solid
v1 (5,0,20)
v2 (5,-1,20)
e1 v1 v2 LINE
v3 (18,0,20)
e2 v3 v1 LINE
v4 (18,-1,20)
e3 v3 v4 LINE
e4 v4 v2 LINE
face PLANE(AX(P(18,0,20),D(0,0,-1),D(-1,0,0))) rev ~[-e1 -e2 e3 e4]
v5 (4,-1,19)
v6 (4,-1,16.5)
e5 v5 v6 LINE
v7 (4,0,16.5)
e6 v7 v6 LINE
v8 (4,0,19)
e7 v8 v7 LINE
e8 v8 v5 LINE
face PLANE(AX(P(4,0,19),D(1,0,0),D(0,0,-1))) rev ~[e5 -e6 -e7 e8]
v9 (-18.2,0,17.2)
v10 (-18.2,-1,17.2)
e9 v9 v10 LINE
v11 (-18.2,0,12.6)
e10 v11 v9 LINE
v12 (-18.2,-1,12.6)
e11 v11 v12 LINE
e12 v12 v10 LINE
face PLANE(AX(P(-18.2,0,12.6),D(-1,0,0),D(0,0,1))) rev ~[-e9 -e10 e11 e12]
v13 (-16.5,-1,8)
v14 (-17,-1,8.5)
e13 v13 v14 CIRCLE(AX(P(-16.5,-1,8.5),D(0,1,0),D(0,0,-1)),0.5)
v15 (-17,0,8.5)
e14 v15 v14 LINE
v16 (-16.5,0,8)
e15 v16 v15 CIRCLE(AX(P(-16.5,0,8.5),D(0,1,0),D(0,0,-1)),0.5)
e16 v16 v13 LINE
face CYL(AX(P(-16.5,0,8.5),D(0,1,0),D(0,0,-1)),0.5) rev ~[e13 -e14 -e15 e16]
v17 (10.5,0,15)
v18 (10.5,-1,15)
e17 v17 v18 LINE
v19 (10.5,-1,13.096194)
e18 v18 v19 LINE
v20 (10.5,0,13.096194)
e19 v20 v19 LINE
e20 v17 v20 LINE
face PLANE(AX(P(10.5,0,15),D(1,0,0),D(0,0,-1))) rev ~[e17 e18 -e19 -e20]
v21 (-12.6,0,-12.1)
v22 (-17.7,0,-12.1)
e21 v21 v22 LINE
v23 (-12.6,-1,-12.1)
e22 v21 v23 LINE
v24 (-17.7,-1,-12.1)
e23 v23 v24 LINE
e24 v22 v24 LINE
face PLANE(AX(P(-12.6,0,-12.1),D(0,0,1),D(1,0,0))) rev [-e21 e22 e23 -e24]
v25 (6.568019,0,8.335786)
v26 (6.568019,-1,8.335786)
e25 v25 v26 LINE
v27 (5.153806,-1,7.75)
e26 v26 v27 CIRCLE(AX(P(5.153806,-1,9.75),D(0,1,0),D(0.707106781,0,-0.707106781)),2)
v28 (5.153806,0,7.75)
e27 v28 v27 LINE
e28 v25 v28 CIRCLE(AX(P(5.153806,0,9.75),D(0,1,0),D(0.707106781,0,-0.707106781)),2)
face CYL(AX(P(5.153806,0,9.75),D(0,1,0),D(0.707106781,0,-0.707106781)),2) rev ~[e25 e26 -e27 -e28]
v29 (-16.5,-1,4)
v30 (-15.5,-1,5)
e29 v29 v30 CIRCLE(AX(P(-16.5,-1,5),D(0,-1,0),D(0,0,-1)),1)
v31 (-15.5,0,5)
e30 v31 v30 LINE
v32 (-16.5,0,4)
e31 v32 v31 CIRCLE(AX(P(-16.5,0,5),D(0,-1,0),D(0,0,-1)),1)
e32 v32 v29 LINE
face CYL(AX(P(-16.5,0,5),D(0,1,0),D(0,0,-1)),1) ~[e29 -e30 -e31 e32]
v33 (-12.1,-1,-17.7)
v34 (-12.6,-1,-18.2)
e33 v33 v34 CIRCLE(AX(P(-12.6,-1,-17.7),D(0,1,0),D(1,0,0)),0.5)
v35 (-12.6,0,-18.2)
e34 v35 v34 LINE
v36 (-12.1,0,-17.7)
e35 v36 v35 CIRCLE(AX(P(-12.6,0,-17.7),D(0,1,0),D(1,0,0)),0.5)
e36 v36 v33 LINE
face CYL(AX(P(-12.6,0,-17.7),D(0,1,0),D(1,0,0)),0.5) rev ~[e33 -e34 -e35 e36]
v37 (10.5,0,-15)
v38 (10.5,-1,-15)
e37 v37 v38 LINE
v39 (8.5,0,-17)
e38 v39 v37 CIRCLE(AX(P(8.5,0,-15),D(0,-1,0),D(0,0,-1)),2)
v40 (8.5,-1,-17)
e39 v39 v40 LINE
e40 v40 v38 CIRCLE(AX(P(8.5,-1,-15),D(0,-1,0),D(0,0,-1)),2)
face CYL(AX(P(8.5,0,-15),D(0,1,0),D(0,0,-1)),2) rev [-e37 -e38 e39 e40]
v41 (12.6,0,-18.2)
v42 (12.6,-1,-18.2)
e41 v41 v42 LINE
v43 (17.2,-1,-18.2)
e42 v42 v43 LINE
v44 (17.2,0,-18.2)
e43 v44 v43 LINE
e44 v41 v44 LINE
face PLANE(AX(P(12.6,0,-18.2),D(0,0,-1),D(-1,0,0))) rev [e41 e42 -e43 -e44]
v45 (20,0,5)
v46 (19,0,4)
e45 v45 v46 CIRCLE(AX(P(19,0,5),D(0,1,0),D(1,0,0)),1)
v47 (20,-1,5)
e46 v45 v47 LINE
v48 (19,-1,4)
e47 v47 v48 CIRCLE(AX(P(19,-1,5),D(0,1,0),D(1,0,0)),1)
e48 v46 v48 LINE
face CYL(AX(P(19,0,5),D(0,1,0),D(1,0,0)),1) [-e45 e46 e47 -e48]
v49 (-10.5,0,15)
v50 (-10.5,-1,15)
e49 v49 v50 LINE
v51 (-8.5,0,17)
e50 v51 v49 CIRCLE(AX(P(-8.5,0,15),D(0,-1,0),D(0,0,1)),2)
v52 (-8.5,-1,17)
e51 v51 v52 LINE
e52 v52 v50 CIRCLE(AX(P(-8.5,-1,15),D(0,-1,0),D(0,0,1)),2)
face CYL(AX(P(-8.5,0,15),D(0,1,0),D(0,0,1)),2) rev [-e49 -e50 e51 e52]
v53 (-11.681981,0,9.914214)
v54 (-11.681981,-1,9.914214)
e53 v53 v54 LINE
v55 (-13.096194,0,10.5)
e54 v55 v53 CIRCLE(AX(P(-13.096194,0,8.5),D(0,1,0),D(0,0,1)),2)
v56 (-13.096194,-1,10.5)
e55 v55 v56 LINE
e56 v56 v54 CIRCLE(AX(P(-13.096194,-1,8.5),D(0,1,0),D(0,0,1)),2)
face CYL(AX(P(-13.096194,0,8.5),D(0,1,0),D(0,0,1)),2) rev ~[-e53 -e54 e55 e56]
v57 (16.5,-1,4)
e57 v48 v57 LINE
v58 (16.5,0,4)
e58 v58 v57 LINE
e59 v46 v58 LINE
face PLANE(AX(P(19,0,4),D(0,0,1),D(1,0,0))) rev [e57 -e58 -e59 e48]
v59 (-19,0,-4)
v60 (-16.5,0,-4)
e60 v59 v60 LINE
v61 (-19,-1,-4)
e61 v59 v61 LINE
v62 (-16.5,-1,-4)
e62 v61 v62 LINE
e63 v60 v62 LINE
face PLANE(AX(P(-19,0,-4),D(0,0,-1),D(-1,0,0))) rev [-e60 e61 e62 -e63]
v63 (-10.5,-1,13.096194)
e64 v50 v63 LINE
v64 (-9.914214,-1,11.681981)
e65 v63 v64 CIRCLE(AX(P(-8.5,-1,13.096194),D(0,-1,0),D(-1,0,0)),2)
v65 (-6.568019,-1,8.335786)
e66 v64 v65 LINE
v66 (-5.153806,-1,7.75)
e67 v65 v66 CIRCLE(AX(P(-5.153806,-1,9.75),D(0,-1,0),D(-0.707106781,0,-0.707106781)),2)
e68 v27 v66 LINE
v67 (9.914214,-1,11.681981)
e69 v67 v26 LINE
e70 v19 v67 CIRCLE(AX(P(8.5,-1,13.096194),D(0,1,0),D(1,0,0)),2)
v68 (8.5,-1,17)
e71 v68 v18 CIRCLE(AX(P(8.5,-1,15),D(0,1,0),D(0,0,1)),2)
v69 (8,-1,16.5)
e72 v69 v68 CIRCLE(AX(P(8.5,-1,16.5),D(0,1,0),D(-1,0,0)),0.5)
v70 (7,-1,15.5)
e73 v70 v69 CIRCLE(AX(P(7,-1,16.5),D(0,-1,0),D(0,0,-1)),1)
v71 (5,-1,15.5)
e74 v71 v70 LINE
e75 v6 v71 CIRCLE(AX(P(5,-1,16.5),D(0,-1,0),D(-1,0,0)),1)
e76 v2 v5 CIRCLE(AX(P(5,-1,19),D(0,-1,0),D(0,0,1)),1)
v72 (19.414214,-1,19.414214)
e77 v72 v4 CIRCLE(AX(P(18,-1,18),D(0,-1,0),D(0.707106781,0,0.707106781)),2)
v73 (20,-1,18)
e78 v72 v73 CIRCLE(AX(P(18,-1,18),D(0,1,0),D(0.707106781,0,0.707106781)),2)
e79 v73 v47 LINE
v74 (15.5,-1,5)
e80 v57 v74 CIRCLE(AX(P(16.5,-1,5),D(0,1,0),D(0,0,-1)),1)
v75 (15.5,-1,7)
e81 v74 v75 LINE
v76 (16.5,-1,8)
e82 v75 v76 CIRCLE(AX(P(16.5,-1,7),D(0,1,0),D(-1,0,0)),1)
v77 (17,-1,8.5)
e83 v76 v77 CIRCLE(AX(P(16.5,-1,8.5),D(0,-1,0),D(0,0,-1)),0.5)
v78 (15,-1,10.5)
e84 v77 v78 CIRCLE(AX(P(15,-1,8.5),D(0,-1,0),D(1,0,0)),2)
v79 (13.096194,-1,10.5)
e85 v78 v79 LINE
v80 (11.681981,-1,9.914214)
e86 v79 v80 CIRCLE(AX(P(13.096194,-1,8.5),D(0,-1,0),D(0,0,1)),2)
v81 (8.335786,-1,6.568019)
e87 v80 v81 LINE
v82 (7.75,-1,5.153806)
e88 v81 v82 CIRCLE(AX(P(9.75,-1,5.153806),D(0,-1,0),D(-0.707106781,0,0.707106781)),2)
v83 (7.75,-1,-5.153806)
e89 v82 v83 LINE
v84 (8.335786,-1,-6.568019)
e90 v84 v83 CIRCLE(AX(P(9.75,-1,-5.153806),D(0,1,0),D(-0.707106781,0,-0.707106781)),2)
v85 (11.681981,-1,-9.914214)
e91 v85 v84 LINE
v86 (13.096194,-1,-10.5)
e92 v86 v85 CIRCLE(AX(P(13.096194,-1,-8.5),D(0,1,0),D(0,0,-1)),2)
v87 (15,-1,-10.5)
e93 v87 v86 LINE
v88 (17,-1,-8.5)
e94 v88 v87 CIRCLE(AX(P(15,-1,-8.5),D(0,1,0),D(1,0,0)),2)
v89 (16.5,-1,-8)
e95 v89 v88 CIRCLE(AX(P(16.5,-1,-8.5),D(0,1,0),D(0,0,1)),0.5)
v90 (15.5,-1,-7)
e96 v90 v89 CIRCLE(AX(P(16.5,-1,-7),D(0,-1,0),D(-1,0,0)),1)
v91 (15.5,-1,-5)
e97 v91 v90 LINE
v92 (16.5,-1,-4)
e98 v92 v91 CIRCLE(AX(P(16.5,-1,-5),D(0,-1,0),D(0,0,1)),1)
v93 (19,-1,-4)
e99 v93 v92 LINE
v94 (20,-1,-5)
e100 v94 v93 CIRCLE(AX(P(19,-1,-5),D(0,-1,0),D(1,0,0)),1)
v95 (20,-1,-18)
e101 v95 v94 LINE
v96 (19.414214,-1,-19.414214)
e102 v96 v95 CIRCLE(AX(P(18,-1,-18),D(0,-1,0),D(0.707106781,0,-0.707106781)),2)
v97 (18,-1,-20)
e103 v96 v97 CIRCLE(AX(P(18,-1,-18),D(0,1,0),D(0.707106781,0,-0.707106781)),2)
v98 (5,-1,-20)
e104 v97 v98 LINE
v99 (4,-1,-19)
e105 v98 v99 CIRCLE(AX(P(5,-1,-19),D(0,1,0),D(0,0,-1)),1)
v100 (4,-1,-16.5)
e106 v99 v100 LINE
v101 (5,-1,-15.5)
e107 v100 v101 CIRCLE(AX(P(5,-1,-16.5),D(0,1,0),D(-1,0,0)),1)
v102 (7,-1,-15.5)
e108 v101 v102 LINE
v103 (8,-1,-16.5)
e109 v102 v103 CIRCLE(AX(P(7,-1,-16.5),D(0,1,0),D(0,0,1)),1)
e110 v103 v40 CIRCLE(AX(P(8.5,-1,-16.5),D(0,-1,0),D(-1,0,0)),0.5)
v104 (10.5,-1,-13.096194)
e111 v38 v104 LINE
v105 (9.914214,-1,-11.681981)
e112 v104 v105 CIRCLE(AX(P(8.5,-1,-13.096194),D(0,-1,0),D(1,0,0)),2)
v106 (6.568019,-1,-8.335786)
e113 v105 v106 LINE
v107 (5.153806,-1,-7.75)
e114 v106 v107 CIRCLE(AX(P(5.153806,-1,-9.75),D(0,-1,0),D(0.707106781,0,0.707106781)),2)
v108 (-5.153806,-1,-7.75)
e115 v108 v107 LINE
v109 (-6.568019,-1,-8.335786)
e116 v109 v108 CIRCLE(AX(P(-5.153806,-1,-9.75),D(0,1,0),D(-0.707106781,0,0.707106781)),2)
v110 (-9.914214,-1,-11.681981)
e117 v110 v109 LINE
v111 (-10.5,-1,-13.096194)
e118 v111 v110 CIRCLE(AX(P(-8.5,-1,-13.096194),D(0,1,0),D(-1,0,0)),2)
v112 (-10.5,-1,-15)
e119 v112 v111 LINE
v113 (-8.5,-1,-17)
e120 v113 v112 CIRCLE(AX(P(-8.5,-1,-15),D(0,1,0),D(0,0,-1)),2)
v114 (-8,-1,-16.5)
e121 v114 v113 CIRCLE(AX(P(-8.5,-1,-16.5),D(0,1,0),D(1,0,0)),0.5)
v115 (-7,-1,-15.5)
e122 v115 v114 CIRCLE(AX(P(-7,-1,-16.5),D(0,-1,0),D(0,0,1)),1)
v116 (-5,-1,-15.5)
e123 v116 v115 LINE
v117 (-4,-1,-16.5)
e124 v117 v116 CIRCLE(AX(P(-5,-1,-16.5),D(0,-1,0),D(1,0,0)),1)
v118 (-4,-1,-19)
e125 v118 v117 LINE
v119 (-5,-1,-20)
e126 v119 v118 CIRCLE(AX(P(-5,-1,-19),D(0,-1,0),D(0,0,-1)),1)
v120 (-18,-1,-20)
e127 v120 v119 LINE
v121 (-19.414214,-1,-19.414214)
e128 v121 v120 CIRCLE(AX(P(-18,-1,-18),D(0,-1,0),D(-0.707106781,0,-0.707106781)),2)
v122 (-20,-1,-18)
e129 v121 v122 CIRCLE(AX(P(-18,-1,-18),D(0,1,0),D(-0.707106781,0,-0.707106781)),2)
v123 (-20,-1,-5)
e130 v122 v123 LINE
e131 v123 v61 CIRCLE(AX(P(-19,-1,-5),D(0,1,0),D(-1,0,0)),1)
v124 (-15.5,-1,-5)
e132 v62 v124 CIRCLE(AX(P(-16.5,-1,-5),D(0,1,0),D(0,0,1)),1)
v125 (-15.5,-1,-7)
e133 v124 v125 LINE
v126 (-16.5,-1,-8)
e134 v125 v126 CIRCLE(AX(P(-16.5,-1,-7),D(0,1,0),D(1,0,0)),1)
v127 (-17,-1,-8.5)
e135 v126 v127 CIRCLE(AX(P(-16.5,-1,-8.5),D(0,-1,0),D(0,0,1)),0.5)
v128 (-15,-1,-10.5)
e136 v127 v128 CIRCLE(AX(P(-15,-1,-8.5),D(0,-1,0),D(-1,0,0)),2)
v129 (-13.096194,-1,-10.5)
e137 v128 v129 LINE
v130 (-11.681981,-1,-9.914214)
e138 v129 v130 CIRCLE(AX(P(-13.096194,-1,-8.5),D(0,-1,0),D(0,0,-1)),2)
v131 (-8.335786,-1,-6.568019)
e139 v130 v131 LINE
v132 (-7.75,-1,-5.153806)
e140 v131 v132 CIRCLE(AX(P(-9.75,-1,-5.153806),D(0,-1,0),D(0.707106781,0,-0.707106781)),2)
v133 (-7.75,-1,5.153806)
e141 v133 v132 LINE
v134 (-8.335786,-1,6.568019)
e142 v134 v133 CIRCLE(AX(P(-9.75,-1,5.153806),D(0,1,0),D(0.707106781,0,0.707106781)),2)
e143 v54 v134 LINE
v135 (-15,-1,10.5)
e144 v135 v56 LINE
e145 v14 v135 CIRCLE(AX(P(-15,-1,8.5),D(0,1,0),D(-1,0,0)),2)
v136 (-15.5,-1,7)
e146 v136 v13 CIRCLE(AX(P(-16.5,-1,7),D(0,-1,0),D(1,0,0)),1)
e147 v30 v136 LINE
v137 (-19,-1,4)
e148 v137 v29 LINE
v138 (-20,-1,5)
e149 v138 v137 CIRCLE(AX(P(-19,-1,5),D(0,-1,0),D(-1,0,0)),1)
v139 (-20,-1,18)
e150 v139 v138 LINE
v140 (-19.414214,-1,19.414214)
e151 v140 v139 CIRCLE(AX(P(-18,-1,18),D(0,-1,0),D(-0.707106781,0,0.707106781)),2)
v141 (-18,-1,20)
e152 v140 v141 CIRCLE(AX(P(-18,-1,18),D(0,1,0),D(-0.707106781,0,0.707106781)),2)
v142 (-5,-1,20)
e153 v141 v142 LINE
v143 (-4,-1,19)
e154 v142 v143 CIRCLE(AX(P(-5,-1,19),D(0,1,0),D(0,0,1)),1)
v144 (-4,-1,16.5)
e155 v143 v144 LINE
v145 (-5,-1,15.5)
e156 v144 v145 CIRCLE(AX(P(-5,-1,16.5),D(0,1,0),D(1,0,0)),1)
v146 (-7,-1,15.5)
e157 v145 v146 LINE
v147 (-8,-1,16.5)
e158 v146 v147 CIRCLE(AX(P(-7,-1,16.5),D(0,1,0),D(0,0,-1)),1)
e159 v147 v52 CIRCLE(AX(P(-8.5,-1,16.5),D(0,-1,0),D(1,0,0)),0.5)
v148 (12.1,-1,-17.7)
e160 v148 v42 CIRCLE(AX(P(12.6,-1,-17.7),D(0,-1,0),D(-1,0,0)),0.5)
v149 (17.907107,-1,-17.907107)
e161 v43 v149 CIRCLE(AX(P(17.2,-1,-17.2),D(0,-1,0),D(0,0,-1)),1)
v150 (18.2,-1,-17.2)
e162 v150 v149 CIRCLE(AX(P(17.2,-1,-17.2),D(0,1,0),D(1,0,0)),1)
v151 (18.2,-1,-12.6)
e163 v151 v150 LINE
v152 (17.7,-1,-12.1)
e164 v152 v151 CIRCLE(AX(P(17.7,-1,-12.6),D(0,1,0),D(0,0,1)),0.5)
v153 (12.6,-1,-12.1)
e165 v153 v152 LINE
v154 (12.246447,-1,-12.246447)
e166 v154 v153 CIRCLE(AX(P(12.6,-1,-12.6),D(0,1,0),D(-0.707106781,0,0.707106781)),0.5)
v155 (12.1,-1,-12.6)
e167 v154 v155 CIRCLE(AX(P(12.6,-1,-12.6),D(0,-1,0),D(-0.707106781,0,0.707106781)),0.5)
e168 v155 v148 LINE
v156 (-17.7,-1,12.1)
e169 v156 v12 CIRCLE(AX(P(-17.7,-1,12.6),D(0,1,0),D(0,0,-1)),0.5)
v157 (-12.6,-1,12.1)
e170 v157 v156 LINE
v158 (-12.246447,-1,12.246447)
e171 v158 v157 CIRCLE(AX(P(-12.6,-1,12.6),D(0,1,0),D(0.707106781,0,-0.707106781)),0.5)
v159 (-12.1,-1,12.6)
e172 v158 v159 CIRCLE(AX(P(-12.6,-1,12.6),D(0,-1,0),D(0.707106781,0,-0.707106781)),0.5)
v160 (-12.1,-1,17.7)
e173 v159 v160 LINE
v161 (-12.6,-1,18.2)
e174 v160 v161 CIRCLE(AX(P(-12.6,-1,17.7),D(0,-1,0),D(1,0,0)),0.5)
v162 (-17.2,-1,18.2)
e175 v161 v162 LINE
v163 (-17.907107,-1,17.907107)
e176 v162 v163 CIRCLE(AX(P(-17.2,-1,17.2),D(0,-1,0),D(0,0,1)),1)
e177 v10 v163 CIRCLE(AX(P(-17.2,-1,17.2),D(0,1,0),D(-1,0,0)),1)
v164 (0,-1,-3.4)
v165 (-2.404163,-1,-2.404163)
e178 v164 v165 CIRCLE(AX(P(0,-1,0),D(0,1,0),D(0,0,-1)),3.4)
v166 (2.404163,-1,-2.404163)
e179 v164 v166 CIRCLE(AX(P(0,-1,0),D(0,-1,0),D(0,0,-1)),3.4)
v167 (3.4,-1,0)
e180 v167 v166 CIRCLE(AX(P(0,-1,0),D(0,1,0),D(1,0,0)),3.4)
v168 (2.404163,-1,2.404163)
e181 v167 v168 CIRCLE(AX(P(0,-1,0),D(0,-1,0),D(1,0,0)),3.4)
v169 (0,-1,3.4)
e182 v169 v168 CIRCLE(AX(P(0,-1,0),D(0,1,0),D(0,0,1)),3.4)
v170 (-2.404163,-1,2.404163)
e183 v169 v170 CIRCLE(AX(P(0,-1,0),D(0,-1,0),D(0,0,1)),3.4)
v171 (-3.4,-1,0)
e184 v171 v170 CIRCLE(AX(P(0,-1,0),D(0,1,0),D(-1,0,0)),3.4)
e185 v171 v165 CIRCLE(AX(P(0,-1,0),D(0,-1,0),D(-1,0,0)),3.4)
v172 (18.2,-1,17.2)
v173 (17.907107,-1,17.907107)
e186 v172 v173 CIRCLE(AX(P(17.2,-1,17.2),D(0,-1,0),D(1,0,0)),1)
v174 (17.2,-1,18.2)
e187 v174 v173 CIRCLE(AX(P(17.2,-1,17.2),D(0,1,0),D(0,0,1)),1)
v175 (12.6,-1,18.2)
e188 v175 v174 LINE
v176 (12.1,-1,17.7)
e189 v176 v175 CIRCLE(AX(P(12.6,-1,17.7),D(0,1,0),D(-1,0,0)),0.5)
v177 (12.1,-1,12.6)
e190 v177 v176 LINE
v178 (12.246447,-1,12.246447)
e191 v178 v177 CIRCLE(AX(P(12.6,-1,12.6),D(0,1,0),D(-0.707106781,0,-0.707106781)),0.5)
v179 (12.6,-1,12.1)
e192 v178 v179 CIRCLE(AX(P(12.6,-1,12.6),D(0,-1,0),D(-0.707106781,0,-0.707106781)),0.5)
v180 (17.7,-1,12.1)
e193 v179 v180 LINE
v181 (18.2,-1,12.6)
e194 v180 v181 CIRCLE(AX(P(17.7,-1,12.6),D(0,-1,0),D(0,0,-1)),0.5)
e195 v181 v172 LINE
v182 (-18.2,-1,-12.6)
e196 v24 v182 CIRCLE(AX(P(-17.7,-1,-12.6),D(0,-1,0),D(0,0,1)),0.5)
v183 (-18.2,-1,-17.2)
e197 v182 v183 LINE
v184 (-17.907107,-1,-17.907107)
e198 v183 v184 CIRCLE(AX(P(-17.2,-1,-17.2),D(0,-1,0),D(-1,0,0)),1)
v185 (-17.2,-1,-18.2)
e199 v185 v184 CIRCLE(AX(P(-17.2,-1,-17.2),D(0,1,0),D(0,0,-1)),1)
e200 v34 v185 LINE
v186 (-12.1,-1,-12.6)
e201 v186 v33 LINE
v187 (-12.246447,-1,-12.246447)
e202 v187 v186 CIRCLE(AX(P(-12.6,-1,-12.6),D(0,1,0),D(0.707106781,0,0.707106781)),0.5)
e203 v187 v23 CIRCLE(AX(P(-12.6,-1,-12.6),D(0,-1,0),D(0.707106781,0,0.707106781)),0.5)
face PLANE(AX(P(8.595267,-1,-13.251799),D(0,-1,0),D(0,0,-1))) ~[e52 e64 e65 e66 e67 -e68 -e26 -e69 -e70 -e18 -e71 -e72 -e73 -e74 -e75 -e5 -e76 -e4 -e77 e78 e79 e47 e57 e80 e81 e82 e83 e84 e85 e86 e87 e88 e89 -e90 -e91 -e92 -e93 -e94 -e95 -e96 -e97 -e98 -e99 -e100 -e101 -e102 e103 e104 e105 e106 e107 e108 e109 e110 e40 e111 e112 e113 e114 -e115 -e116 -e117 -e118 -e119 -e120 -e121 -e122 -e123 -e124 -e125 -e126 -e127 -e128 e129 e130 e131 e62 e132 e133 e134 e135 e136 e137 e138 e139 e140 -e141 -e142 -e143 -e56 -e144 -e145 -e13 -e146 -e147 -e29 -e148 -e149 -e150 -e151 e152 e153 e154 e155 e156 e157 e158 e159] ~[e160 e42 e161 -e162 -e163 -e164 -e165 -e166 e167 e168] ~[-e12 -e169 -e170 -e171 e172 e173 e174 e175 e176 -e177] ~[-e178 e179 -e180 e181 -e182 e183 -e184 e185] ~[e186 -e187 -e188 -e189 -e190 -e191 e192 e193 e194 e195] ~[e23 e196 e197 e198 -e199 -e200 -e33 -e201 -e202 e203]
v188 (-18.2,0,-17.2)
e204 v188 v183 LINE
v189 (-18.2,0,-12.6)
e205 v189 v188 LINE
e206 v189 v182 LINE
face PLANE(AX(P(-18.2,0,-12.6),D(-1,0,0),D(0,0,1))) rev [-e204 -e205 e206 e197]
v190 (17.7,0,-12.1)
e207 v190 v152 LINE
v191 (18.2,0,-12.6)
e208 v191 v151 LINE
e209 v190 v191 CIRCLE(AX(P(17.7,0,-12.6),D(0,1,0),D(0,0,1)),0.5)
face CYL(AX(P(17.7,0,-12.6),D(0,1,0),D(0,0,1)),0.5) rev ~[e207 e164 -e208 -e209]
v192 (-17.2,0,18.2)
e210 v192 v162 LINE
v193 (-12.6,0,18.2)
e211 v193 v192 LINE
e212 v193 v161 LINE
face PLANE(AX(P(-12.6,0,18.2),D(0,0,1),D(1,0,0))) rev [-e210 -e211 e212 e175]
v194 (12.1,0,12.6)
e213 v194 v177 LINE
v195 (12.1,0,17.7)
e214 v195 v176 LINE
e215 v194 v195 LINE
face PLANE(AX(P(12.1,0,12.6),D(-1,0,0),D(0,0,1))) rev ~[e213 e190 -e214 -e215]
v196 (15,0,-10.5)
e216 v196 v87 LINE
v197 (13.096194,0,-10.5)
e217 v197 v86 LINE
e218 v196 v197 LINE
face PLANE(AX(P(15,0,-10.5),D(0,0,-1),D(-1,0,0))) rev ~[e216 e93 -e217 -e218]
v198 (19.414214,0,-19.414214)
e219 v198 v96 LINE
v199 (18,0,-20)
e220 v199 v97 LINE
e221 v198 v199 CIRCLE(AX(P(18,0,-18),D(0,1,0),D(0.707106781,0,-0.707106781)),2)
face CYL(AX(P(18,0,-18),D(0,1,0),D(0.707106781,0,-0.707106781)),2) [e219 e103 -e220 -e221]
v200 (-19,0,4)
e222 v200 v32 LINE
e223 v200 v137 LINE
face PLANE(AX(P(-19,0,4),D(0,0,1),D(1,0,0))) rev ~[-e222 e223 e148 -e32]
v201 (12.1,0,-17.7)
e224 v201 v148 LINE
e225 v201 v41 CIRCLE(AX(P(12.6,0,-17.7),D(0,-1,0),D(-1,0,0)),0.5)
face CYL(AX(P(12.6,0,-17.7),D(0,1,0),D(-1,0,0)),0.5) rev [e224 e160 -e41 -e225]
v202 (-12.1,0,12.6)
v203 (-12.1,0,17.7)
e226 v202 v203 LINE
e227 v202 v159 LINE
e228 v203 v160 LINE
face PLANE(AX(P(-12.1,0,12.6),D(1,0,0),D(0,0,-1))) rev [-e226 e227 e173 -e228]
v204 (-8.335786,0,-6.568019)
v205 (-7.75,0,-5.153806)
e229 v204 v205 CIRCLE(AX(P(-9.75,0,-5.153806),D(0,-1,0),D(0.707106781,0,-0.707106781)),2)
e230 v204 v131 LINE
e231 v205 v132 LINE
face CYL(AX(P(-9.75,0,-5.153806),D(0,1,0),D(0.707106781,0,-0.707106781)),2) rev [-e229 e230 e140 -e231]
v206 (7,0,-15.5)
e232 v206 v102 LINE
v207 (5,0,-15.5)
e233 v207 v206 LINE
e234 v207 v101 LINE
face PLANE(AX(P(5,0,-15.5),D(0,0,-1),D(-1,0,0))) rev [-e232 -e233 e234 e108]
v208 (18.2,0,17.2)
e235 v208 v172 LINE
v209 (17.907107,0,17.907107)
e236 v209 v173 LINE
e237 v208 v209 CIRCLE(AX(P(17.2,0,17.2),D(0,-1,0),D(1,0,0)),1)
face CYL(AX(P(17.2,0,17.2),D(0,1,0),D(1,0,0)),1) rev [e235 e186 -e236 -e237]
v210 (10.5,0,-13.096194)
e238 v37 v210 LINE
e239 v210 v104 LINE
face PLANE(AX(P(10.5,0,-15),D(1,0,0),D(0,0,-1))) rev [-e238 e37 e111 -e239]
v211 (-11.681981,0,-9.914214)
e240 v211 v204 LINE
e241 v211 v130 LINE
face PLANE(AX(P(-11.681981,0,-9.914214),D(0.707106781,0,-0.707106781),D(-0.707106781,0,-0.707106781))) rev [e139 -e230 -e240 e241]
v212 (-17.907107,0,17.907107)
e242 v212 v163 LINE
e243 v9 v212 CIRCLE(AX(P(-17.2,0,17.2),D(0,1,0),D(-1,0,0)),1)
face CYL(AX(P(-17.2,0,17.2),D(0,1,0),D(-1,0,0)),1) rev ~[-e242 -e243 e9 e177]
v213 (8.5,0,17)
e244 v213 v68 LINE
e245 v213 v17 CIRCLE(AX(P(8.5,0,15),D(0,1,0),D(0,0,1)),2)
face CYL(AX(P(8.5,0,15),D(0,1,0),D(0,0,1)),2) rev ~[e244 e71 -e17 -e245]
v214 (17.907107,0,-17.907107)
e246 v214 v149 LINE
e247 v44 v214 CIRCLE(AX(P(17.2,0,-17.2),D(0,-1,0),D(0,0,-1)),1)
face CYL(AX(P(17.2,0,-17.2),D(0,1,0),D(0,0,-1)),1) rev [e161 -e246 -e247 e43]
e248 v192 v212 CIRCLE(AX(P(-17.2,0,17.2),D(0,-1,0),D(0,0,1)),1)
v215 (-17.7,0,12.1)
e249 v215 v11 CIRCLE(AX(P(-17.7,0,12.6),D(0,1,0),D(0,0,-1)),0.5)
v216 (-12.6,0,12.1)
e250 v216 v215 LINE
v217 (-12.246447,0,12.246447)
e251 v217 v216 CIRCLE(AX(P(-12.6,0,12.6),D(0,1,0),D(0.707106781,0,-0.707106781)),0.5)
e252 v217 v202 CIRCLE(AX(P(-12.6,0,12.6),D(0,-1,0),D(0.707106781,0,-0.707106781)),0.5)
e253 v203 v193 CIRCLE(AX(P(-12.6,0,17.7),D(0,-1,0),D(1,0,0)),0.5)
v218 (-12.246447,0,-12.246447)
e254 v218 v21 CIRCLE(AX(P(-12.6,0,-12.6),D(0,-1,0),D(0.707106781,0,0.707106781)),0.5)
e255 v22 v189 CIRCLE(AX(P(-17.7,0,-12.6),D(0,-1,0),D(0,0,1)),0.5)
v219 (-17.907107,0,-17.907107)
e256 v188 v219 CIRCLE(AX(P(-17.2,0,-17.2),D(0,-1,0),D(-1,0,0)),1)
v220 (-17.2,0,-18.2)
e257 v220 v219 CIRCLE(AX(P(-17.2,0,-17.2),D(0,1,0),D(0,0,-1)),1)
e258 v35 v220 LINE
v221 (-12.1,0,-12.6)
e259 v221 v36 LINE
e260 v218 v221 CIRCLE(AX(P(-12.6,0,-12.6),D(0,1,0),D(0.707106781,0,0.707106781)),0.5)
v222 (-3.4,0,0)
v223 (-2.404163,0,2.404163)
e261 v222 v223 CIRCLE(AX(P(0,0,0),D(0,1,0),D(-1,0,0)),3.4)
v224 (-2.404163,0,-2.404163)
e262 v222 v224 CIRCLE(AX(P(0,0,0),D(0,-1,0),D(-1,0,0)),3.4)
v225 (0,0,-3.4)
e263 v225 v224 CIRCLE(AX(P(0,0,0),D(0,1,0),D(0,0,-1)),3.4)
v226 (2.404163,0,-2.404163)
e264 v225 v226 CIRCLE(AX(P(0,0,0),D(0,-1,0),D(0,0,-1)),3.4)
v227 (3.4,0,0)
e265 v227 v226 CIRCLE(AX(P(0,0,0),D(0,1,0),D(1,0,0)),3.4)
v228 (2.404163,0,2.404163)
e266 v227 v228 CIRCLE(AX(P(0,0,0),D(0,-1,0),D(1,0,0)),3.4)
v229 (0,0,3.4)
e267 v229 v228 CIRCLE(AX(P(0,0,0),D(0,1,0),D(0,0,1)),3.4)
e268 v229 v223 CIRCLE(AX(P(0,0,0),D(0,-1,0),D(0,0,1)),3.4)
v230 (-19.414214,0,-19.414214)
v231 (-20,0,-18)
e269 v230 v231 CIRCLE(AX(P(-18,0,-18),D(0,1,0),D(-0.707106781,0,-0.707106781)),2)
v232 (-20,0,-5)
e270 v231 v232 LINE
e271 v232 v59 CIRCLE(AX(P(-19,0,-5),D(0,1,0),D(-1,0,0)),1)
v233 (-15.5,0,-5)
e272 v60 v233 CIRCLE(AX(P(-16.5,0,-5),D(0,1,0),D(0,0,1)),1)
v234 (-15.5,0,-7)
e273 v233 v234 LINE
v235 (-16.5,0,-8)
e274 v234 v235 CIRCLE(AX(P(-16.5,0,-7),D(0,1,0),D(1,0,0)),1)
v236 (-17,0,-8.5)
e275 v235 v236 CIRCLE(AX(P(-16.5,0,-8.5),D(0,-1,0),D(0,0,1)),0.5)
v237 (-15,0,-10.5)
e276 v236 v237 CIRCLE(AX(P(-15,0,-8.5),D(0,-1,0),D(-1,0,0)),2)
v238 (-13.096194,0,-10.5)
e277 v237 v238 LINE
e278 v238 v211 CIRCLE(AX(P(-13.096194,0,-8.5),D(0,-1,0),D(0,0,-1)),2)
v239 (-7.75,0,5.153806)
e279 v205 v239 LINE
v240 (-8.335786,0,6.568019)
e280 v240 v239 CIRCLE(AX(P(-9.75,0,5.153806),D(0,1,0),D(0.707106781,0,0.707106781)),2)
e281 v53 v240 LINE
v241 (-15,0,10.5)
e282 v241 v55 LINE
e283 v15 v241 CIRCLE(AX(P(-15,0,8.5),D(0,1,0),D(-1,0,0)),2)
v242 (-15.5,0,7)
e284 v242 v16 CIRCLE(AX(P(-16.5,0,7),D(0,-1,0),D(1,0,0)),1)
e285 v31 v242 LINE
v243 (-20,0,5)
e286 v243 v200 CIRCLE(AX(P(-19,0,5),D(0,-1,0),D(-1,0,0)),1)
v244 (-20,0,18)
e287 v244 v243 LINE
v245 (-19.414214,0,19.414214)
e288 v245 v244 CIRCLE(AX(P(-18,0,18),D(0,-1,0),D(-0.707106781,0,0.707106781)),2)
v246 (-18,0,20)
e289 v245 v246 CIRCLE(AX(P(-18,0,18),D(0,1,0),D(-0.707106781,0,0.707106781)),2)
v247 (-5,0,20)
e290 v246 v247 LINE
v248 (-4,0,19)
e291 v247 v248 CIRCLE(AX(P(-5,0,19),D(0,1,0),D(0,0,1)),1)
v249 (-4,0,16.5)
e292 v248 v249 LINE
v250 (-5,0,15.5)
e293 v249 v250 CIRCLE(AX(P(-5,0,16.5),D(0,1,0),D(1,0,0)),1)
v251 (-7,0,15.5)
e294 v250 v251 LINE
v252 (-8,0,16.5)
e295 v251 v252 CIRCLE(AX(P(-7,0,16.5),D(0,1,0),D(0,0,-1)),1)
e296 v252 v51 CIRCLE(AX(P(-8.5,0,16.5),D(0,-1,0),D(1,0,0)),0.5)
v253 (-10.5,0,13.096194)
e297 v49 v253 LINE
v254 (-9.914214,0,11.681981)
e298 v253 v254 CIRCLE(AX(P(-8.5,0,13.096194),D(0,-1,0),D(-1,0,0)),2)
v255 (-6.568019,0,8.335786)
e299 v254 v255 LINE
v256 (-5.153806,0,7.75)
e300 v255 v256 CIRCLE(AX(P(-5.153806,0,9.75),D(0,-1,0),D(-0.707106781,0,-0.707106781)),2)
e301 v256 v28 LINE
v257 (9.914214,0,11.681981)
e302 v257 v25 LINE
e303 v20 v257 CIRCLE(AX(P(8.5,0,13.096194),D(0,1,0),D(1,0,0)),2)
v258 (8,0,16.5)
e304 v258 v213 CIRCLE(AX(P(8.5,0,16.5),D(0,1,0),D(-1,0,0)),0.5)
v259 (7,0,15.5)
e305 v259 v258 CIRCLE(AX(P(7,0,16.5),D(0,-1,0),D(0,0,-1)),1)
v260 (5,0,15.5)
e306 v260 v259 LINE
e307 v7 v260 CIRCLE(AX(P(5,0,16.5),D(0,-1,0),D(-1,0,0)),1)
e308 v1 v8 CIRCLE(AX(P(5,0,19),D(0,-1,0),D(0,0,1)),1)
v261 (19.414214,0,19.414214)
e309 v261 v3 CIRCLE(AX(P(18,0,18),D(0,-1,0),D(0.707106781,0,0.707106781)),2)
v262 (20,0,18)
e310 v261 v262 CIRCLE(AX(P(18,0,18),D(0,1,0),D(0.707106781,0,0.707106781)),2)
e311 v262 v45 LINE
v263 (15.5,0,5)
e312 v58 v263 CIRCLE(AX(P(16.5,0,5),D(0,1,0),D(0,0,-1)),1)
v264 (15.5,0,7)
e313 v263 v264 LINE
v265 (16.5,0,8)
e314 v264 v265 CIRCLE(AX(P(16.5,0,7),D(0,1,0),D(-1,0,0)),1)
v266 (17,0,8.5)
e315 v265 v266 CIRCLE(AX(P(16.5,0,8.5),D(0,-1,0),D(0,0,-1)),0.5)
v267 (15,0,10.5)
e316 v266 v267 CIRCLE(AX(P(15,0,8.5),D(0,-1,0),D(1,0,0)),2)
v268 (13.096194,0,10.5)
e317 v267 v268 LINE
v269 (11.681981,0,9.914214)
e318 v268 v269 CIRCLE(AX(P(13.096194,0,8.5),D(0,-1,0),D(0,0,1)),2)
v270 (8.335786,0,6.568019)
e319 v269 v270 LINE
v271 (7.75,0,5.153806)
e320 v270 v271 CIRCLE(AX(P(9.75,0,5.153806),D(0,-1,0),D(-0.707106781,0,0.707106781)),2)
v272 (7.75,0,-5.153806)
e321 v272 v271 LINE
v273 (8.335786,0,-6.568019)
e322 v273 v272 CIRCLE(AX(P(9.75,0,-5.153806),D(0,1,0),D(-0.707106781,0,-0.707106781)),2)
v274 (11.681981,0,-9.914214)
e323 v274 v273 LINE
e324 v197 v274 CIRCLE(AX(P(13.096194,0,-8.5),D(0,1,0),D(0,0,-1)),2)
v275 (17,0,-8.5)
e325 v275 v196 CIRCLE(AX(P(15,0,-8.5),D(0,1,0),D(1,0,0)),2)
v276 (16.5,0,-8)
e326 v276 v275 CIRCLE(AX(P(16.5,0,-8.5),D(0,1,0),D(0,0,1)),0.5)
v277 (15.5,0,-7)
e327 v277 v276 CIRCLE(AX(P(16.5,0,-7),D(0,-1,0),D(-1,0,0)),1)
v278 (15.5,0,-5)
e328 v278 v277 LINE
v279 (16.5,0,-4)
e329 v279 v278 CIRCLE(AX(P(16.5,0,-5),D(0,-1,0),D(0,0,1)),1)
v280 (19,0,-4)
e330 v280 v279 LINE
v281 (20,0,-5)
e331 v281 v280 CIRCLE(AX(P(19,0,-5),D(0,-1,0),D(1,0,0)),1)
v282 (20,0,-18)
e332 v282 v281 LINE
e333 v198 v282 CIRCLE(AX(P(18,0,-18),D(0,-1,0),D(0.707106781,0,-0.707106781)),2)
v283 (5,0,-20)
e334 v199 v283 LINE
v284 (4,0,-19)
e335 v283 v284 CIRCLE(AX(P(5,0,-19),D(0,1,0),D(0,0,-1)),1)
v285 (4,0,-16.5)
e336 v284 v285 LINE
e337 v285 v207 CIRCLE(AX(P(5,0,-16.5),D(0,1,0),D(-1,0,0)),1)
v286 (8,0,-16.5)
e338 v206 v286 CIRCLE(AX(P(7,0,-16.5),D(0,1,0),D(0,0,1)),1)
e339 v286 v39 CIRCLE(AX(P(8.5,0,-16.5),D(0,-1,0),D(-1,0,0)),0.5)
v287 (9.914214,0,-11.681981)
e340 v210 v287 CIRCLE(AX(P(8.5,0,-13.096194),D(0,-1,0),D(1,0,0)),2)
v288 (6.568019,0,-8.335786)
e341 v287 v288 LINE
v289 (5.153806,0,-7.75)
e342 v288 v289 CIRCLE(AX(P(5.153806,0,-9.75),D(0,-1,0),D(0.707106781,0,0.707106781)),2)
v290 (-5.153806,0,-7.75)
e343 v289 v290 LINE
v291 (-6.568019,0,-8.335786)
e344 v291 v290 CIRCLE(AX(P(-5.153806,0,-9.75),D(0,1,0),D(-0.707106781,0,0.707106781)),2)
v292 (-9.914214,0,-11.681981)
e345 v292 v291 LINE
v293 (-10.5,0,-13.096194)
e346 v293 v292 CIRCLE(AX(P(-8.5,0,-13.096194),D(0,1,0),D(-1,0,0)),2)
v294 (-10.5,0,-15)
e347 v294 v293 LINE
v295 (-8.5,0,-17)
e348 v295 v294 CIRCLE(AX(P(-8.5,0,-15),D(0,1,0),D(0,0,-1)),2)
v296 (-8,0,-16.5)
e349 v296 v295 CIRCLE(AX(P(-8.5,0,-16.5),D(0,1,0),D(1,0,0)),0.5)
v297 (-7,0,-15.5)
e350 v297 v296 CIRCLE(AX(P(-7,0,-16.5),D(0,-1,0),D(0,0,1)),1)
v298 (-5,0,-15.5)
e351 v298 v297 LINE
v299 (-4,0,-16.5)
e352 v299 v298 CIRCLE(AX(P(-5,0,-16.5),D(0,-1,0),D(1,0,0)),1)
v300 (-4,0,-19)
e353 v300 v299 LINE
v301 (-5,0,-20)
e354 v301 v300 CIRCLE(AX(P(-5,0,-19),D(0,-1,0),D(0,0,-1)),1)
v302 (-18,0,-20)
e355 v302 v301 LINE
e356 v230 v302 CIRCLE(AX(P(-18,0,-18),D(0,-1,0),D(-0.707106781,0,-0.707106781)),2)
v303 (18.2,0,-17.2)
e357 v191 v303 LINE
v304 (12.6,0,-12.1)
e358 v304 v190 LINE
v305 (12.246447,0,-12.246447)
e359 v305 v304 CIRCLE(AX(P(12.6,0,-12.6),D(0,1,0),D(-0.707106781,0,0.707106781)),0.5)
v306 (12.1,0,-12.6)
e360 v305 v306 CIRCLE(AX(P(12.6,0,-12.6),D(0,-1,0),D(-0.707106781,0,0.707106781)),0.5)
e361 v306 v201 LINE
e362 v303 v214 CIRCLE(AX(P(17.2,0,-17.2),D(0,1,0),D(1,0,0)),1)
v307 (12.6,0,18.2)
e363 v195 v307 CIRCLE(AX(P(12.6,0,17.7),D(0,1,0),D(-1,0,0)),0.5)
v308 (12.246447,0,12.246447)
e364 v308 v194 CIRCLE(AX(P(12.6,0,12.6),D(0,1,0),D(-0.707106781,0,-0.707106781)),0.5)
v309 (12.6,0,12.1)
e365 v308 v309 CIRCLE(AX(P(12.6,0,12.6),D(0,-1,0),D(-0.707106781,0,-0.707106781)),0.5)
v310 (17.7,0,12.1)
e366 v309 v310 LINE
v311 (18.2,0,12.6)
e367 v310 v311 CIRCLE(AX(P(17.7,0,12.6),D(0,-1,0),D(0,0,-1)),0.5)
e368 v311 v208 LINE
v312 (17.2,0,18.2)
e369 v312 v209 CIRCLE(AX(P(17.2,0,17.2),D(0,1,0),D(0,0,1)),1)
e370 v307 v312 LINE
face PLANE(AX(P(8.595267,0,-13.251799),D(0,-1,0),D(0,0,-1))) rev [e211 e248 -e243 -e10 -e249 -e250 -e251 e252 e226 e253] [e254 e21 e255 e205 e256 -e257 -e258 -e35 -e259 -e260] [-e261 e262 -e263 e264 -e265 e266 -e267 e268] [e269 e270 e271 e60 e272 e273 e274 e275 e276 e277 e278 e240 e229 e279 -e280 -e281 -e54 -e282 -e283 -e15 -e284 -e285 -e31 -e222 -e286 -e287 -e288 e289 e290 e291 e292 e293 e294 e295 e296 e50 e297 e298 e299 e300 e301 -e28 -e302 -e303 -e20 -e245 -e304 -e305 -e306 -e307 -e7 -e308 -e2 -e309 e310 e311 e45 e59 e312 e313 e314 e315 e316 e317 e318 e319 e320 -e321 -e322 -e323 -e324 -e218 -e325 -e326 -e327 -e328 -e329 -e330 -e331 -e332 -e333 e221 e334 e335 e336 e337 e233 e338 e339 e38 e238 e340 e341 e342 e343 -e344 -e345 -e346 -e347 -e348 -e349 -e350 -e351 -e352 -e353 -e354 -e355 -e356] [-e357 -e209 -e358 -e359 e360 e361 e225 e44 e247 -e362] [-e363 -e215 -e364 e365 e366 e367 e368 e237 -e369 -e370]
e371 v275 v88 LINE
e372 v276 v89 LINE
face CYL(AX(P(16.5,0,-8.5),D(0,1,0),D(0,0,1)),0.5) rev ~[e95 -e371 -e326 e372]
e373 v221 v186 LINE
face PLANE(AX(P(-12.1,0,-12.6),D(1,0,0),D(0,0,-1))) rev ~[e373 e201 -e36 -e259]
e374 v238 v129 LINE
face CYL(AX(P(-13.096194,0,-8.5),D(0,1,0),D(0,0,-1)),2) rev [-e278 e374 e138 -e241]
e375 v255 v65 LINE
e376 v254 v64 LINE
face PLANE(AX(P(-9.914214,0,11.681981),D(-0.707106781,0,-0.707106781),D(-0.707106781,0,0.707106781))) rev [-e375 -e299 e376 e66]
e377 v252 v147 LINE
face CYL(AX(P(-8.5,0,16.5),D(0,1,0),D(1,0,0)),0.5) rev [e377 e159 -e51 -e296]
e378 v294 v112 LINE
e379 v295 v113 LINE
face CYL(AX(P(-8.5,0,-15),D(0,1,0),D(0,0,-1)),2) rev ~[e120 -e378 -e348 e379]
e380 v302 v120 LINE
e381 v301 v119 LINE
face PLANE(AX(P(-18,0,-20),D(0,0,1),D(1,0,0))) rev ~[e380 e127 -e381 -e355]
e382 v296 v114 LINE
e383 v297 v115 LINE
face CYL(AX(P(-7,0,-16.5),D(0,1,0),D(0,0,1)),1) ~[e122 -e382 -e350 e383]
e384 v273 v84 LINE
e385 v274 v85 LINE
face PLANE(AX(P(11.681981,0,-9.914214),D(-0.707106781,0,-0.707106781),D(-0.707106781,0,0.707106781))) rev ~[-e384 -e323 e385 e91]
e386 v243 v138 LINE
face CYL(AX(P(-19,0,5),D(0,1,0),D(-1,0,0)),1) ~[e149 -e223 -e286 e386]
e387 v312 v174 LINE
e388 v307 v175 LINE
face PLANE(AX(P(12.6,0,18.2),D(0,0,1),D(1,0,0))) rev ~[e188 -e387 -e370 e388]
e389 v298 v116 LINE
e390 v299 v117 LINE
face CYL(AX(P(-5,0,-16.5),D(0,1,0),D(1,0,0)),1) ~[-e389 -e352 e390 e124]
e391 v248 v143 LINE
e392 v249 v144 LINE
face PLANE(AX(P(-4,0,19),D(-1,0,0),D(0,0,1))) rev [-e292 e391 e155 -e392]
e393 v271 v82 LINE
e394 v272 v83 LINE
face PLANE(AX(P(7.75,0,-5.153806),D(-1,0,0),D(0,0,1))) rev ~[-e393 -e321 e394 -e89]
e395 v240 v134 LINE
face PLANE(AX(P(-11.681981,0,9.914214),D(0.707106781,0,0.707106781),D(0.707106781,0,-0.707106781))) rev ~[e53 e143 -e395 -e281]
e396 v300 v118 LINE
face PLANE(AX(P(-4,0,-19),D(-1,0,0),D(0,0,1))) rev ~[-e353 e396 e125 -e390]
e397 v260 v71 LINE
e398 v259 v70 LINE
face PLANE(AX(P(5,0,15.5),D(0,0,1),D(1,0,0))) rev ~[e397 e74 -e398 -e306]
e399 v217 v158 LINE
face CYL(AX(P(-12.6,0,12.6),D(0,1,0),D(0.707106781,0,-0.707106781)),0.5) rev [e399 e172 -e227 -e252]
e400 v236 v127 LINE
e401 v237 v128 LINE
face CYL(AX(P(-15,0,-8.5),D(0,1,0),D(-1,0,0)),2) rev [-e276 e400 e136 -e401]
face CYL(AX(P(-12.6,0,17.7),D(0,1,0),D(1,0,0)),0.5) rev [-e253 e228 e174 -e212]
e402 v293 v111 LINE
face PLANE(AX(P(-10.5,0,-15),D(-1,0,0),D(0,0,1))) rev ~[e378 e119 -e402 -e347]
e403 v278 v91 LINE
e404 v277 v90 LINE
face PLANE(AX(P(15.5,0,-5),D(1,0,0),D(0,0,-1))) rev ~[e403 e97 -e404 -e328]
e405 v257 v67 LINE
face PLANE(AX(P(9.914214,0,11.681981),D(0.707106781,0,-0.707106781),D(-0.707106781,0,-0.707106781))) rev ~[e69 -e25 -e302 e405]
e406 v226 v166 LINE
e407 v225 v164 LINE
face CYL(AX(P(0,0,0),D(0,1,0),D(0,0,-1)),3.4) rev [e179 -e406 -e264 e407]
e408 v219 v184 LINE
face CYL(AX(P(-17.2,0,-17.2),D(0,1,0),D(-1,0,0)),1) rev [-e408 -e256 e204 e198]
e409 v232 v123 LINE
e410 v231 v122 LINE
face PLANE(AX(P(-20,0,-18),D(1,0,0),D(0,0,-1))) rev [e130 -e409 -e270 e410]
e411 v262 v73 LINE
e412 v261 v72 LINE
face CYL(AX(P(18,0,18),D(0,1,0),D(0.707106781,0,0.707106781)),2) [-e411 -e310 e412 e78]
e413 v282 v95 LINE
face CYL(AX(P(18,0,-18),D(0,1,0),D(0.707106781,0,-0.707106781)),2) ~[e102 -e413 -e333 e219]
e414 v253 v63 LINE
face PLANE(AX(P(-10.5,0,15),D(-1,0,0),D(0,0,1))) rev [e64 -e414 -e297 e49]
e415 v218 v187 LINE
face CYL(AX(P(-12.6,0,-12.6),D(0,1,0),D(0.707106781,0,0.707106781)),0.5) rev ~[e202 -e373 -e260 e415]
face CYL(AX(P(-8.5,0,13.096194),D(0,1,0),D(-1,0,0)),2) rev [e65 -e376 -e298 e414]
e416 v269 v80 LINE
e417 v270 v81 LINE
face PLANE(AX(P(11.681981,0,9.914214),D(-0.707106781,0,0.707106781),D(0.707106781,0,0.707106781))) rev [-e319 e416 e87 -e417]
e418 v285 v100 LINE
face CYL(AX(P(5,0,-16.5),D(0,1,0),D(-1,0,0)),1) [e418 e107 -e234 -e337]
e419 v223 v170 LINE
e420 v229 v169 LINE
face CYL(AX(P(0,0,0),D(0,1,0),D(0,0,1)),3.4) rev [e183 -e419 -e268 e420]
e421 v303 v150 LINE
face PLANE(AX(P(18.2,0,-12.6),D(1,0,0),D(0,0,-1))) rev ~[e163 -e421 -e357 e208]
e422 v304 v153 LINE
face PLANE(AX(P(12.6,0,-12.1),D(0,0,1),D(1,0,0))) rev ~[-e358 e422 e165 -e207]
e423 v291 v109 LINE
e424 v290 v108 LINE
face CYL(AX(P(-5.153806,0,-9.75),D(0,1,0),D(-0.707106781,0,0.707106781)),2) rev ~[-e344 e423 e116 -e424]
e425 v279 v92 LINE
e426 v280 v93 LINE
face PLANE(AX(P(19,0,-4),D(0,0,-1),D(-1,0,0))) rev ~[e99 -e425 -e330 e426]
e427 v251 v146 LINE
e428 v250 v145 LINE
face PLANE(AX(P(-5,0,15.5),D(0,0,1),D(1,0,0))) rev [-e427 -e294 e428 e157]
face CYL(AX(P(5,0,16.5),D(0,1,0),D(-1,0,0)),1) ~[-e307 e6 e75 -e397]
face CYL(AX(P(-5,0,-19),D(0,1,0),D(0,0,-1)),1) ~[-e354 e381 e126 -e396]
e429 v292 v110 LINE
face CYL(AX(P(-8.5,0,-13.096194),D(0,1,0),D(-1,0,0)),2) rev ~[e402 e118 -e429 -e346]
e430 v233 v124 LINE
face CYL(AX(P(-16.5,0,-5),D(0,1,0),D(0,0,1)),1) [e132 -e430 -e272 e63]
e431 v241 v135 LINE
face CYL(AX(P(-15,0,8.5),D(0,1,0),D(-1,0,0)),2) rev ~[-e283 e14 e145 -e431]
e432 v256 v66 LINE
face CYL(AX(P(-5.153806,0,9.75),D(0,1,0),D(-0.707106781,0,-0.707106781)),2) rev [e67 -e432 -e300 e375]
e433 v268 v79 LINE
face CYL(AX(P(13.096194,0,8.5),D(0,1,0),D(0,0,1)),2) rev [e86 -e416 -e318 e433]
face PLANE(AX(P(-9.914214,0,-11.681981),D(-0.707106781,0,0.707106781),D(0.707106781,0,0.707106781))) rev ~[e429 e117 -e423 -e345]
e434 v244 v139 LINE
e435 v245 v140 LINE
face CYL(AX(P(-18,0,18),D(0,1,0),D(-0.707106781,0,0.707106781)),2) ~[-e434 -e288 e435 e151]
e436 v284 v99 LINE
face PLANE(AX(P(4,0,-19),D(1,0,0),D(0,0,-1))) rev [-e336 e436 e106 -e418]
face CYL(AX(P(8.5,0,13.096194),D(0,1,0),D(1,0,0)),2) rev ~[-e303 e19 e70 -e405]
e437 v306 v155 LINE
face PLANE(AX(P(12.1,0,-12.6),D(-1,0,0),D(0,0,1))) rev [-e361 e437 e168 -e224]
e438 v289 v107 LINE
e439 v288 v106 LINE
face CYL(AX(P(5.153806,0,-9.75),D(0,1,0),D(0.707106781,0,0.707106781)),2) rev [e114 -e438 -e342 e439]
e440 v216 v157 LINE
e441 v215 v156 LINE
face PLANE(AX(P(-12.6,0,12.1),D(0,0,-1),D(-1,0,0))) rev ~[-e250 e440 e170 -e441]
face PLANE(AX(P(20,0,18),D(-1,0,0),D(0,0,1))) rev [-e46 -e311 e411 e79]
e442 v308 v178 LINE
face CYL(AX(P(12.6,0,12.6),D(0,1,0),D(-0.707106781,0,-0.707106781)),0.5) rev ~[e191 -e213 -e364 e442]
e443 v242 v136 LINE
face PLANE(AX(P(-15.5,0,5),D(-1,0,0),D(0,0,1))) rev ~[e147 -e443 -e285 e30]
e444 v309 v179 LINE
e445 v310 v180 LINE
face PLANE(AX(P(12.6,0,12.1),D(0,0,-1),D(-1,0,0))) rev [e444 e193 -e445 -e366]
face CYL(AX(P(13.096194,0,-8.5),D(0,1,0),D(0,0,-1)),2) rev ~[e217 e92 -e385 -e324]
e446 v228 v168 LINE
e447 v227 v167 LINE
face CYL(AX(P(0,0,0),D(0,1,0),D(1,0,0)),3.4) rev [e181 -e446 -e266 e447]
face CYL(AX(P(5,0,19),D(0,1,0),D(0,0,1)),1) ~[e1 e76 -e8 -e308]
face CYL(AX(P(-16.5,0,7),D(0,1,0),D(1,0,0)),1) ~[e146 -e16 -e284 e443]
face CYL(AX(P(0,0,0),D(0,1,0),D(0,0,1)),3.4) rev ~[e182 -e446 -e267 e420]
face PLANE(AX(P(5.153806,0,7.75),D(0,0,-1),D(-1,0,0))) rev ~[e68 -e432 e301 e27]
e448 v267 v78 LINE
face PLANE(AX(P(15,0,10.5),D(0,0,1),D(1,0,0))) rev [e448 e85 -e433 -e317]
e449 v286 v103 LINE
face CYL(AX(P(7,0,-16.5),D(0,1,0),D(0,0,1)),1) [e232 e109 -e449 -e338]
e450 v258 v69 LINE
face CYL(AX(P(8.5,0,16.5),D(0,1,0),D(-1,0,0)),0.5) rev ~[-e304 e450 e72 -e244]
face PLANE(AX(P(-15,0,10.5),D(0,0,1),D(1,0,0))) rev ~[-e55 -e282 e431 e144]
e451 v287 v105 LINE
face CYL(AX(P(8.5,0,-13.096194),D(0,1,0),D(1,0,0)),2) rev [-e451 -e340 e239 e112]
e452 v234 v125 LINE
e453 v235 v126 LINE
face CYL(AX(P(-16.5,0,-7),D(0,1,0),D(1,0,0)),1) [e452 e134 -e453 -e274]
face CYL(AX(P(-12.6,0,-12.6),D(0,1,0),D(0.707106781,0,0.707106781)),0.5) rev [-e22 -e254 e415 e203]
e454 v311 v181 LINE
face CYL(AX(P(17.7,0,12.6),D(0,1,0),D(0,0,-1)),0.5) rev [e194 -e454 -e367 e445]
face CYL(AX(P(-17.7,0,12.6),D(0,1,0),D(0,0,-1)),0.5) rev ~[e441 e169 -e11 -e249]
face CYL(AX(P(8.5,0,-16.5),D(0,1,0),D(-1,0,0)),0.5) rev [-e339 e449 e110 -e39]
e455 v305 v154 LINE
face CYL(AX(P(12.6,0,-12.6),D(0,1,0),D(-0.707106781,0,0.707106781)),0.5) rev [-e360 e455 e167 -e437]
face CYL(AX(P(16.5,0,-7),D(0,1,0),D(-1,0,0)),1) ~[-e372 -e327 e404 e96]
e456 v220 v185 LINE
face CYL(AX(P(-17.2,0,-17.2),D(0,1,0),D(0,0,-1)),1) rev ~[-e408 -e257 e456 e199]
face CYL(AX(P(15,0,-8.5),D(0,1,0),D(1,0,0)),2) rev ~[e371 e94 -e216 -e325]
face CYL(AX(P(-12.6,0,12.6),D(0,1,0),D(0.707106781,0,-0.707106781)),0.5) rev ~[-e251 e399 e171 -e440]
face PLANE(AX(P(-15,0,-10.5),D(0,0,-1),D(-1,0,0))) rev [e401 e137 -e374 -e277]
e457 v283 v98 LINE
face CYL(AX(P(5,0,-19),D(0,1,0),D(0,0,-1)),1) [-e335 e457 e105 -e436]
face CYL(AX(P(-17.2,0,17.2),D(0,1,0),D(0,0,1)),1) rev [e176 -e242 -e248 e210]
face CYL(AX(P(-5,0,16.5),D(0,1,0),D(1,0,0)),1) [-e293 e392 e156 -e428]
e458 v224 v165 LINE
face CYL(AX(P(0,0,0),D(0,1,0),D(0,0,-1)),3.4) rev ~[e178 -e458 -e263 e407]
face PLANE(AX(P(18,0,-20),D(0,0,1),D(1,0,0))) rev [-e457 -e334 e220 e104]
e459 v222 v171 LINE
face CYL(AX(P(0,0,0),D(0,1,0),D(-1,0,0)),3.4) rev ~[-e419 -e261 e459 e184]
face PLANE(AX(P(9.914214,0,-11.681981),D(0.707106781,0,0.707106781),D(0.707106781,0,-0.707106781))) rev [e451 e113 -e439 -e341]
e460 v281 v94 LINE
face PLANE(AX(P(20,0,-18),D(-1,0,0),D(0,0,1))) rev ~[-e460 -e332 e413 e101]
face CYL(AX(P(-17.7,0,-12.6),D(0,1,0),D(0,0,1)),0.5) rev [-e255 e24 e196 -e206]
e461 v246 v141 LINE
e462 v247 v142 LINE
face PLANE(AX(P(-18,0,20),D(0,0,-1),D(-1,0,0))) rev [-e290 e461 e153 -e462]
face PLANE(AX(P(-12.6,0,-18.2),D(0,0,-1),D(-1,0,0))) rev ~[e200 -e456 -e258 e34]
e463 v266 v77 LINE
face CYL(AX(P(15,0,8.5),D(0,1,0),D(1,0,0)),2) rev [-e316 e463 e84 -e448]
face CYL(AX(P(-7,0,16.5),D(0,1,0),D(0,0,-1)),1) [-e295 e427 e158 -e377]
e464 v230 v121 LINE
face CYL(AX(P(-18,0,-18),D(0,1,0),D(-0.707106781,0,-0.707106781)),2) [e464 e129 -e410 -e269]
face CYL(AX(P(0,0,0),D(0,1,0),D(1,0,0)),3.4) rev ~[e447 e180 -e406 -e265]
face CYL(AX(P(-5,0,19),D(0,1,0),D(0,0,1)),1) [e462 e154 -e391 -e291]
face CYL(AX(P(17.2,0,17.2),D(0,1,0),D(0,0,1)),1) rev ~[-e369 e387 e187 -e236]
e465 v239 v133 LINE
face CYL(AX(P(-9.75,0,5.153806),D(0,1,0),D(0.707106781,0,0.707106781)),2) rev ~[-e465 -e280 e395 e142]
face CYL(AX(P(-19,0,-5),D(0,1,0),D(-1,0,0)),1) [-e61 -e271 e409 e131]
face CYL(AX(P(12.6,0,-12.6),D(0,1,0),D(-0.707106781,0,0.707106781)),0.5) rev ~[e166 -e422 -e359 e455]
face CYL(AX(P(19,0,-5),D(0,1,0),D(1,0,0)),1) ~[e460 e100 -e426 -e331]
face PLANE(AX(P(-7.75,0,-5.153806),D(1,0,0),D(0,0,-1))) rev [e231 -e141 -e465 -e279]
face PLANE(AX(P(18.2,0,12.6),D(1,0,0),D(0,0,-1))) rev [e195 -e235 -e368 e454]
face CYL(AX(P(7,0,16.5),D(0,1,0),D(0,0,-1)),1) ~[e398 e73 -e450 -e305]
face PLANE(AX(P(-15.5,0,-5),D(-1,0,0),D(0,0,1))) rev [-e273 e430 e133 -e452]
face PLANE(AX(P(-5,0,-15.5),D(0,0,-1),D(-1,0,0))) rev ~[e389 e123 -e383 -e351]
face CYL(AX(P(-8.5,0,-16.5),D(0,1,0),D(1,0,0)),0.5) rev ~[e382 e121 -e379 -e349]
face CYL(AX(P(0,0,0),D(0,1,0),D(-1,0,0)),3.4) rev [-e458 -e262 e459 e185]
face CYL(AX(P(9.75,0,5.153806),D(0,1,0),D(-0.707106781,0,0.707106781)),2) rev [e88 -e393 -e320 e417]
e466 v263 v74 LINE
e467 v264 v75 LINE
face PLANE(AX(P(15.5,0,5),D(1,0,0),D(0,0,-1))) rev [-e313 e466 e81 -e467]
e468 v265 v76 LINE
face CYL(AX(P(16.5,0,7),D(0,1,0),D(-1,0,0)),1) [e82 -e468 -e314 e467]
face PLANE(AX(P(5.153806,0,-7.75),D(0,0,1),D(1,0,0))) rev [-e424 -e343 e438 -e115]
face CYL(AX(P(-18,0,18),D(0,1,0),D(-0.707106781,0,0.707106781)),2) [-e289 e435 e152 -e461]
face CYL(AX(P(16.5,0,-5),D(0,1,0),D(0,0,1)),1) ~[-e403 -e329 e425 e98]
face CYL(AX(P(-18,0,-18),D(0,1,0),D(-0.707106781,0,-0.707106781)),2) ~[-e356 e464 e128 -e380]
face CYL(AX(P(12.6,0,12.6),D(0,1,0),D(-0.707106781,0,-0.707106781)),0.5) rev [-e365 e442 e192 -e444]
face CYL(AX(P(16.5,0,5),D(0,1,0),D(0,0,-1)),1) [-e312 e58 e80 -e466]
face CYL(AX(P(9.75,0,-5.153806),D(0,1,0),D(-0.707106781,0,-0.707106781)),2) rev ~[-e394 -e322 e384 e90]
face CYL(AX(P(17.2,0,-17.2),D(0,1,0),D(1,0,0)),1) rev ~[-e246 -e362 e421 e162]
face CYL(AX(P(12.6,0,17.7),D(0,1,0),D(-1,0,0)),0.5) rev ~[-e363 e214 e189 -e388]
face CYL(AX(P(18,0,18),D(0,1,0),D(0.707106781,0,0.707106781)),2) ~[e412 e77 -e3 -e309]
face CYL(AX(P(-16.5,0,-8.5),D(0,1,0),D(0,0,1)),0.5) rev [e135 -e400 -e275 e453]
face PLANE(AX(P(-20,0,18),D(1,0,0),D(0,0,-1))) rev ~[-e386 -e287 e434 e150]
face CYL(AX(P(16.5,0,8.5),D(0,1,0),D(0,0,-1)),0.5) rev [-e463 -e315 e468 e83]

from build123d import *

# Parameters (mm, degrees)
F1_DEPTH = 1


with BuildPart() as f1:
    # F0 (on Front) → F1 (new body)
    with BuildSketch(Plane.XZ):
        with BuildLine():
            ThreePointArc((-19.4142135624, 19.4142135624), (-19.847759065, 18.7653668647), (-20, 18))
            Line((-20, 18), (-20, 5))
            ThreePointArc((-20, 5), (-19.7071067812, 4.2928932188), (-19, 4))
            Line((-19, 4), (-16.5, 4))
            ThreePointArc((-16.5, 4), (-15.7928932188, 4.2928932188), (-15.5, 5))
            Line((-15.5, 5), (-15.5, 7))
            ThreePointArc((-15.5, 7), (-15.7928932188, 7.7071067812), (-16.5, 8))
            ThreePointArc((-16.5, 8), (-16.8535533906, 8.1464466094), (-17, 8.5))
            ThreePointArc((-17, 8.5), (-16.4142135624, 9.9142135624), (-15, 10.5))
            Line((-15, 10.5), (-13.0961940777, 10.5))
            ThreePointArc((-13.0961940777, 10.5), (-12.330827213, 10.347759065), (-11.6819805153, 9.9142135624))
            Line((-11.6819805153, 9.9142135624), (-8.3357864376, 6.5680194847))
            ThreePointArc((-8.3357864376, 6.5680194847), (-7.902240935, 5.919172787), (-7.75, 5.1538059223))
            Line((-7.75, 5.1538059223), (-7.75, 0))
            Line((-7.75, 0), (-3.4, 0))
            ThreePointArc((-3.4, 0), (-3.1411904105, 1.30112367), (-2.404163056, 2.404163056))
            Line((-2.404163056, 2.404163056), (-12.2464466094, 12.2464466094))
            ThreePointArc((-12.2464466094, 12.2464466094), (-12.4086582838, 12.1380602337), (-12.6, 12.1))
            Line((-12.6, 12.1), (-17.7, 12.1))
            ThreePointArc((-17.7, 12.1), (-18.0535533906, 12.2464466094), (-18.2, 12.6))
            Line((-18.2, 12.6), (-18.2, 17.2))
            ThreePointArc((-18.2, 17.2), (-18.1238795325, 17.5826834324), (-17.9071067812, 17.9071067812))
            Line((-17.9071067812, 17.9071067812), (-19.4142135624, 19.4142135624))
        make_face()
    extrude(amount=F1_DEPTH)

    # F2: F1 across face


with BuildPart() as f1_1:
    add(f1.part)
    add(f1.part.mirror(Plane(origin=(-7.3253048327, -0.5, 7.3253048327), x_dir=(0, 1, 0), z_dir=(0.7071067812, 0, 0.7071067812))))

    # F3: F1 across face


with BuildPart() as f1_2:
    add(f1_1.part)
    add(f1_1.part.mirror(Plane(origin=(-5.575, -0.5, 0), x_dir=(1, 0, 0), z_dir=(0, 0, -1))))

    # F4: F1 across face


with BuildPart() as f1_3:
    add(f1_2.part)
    add(f1_2.part.mirror(Plane(origin=(0, -0.5, 5.575), x_dir=(0, 1, 0), z_dir=(1, 0, 0))))


solid = f1_3.part
